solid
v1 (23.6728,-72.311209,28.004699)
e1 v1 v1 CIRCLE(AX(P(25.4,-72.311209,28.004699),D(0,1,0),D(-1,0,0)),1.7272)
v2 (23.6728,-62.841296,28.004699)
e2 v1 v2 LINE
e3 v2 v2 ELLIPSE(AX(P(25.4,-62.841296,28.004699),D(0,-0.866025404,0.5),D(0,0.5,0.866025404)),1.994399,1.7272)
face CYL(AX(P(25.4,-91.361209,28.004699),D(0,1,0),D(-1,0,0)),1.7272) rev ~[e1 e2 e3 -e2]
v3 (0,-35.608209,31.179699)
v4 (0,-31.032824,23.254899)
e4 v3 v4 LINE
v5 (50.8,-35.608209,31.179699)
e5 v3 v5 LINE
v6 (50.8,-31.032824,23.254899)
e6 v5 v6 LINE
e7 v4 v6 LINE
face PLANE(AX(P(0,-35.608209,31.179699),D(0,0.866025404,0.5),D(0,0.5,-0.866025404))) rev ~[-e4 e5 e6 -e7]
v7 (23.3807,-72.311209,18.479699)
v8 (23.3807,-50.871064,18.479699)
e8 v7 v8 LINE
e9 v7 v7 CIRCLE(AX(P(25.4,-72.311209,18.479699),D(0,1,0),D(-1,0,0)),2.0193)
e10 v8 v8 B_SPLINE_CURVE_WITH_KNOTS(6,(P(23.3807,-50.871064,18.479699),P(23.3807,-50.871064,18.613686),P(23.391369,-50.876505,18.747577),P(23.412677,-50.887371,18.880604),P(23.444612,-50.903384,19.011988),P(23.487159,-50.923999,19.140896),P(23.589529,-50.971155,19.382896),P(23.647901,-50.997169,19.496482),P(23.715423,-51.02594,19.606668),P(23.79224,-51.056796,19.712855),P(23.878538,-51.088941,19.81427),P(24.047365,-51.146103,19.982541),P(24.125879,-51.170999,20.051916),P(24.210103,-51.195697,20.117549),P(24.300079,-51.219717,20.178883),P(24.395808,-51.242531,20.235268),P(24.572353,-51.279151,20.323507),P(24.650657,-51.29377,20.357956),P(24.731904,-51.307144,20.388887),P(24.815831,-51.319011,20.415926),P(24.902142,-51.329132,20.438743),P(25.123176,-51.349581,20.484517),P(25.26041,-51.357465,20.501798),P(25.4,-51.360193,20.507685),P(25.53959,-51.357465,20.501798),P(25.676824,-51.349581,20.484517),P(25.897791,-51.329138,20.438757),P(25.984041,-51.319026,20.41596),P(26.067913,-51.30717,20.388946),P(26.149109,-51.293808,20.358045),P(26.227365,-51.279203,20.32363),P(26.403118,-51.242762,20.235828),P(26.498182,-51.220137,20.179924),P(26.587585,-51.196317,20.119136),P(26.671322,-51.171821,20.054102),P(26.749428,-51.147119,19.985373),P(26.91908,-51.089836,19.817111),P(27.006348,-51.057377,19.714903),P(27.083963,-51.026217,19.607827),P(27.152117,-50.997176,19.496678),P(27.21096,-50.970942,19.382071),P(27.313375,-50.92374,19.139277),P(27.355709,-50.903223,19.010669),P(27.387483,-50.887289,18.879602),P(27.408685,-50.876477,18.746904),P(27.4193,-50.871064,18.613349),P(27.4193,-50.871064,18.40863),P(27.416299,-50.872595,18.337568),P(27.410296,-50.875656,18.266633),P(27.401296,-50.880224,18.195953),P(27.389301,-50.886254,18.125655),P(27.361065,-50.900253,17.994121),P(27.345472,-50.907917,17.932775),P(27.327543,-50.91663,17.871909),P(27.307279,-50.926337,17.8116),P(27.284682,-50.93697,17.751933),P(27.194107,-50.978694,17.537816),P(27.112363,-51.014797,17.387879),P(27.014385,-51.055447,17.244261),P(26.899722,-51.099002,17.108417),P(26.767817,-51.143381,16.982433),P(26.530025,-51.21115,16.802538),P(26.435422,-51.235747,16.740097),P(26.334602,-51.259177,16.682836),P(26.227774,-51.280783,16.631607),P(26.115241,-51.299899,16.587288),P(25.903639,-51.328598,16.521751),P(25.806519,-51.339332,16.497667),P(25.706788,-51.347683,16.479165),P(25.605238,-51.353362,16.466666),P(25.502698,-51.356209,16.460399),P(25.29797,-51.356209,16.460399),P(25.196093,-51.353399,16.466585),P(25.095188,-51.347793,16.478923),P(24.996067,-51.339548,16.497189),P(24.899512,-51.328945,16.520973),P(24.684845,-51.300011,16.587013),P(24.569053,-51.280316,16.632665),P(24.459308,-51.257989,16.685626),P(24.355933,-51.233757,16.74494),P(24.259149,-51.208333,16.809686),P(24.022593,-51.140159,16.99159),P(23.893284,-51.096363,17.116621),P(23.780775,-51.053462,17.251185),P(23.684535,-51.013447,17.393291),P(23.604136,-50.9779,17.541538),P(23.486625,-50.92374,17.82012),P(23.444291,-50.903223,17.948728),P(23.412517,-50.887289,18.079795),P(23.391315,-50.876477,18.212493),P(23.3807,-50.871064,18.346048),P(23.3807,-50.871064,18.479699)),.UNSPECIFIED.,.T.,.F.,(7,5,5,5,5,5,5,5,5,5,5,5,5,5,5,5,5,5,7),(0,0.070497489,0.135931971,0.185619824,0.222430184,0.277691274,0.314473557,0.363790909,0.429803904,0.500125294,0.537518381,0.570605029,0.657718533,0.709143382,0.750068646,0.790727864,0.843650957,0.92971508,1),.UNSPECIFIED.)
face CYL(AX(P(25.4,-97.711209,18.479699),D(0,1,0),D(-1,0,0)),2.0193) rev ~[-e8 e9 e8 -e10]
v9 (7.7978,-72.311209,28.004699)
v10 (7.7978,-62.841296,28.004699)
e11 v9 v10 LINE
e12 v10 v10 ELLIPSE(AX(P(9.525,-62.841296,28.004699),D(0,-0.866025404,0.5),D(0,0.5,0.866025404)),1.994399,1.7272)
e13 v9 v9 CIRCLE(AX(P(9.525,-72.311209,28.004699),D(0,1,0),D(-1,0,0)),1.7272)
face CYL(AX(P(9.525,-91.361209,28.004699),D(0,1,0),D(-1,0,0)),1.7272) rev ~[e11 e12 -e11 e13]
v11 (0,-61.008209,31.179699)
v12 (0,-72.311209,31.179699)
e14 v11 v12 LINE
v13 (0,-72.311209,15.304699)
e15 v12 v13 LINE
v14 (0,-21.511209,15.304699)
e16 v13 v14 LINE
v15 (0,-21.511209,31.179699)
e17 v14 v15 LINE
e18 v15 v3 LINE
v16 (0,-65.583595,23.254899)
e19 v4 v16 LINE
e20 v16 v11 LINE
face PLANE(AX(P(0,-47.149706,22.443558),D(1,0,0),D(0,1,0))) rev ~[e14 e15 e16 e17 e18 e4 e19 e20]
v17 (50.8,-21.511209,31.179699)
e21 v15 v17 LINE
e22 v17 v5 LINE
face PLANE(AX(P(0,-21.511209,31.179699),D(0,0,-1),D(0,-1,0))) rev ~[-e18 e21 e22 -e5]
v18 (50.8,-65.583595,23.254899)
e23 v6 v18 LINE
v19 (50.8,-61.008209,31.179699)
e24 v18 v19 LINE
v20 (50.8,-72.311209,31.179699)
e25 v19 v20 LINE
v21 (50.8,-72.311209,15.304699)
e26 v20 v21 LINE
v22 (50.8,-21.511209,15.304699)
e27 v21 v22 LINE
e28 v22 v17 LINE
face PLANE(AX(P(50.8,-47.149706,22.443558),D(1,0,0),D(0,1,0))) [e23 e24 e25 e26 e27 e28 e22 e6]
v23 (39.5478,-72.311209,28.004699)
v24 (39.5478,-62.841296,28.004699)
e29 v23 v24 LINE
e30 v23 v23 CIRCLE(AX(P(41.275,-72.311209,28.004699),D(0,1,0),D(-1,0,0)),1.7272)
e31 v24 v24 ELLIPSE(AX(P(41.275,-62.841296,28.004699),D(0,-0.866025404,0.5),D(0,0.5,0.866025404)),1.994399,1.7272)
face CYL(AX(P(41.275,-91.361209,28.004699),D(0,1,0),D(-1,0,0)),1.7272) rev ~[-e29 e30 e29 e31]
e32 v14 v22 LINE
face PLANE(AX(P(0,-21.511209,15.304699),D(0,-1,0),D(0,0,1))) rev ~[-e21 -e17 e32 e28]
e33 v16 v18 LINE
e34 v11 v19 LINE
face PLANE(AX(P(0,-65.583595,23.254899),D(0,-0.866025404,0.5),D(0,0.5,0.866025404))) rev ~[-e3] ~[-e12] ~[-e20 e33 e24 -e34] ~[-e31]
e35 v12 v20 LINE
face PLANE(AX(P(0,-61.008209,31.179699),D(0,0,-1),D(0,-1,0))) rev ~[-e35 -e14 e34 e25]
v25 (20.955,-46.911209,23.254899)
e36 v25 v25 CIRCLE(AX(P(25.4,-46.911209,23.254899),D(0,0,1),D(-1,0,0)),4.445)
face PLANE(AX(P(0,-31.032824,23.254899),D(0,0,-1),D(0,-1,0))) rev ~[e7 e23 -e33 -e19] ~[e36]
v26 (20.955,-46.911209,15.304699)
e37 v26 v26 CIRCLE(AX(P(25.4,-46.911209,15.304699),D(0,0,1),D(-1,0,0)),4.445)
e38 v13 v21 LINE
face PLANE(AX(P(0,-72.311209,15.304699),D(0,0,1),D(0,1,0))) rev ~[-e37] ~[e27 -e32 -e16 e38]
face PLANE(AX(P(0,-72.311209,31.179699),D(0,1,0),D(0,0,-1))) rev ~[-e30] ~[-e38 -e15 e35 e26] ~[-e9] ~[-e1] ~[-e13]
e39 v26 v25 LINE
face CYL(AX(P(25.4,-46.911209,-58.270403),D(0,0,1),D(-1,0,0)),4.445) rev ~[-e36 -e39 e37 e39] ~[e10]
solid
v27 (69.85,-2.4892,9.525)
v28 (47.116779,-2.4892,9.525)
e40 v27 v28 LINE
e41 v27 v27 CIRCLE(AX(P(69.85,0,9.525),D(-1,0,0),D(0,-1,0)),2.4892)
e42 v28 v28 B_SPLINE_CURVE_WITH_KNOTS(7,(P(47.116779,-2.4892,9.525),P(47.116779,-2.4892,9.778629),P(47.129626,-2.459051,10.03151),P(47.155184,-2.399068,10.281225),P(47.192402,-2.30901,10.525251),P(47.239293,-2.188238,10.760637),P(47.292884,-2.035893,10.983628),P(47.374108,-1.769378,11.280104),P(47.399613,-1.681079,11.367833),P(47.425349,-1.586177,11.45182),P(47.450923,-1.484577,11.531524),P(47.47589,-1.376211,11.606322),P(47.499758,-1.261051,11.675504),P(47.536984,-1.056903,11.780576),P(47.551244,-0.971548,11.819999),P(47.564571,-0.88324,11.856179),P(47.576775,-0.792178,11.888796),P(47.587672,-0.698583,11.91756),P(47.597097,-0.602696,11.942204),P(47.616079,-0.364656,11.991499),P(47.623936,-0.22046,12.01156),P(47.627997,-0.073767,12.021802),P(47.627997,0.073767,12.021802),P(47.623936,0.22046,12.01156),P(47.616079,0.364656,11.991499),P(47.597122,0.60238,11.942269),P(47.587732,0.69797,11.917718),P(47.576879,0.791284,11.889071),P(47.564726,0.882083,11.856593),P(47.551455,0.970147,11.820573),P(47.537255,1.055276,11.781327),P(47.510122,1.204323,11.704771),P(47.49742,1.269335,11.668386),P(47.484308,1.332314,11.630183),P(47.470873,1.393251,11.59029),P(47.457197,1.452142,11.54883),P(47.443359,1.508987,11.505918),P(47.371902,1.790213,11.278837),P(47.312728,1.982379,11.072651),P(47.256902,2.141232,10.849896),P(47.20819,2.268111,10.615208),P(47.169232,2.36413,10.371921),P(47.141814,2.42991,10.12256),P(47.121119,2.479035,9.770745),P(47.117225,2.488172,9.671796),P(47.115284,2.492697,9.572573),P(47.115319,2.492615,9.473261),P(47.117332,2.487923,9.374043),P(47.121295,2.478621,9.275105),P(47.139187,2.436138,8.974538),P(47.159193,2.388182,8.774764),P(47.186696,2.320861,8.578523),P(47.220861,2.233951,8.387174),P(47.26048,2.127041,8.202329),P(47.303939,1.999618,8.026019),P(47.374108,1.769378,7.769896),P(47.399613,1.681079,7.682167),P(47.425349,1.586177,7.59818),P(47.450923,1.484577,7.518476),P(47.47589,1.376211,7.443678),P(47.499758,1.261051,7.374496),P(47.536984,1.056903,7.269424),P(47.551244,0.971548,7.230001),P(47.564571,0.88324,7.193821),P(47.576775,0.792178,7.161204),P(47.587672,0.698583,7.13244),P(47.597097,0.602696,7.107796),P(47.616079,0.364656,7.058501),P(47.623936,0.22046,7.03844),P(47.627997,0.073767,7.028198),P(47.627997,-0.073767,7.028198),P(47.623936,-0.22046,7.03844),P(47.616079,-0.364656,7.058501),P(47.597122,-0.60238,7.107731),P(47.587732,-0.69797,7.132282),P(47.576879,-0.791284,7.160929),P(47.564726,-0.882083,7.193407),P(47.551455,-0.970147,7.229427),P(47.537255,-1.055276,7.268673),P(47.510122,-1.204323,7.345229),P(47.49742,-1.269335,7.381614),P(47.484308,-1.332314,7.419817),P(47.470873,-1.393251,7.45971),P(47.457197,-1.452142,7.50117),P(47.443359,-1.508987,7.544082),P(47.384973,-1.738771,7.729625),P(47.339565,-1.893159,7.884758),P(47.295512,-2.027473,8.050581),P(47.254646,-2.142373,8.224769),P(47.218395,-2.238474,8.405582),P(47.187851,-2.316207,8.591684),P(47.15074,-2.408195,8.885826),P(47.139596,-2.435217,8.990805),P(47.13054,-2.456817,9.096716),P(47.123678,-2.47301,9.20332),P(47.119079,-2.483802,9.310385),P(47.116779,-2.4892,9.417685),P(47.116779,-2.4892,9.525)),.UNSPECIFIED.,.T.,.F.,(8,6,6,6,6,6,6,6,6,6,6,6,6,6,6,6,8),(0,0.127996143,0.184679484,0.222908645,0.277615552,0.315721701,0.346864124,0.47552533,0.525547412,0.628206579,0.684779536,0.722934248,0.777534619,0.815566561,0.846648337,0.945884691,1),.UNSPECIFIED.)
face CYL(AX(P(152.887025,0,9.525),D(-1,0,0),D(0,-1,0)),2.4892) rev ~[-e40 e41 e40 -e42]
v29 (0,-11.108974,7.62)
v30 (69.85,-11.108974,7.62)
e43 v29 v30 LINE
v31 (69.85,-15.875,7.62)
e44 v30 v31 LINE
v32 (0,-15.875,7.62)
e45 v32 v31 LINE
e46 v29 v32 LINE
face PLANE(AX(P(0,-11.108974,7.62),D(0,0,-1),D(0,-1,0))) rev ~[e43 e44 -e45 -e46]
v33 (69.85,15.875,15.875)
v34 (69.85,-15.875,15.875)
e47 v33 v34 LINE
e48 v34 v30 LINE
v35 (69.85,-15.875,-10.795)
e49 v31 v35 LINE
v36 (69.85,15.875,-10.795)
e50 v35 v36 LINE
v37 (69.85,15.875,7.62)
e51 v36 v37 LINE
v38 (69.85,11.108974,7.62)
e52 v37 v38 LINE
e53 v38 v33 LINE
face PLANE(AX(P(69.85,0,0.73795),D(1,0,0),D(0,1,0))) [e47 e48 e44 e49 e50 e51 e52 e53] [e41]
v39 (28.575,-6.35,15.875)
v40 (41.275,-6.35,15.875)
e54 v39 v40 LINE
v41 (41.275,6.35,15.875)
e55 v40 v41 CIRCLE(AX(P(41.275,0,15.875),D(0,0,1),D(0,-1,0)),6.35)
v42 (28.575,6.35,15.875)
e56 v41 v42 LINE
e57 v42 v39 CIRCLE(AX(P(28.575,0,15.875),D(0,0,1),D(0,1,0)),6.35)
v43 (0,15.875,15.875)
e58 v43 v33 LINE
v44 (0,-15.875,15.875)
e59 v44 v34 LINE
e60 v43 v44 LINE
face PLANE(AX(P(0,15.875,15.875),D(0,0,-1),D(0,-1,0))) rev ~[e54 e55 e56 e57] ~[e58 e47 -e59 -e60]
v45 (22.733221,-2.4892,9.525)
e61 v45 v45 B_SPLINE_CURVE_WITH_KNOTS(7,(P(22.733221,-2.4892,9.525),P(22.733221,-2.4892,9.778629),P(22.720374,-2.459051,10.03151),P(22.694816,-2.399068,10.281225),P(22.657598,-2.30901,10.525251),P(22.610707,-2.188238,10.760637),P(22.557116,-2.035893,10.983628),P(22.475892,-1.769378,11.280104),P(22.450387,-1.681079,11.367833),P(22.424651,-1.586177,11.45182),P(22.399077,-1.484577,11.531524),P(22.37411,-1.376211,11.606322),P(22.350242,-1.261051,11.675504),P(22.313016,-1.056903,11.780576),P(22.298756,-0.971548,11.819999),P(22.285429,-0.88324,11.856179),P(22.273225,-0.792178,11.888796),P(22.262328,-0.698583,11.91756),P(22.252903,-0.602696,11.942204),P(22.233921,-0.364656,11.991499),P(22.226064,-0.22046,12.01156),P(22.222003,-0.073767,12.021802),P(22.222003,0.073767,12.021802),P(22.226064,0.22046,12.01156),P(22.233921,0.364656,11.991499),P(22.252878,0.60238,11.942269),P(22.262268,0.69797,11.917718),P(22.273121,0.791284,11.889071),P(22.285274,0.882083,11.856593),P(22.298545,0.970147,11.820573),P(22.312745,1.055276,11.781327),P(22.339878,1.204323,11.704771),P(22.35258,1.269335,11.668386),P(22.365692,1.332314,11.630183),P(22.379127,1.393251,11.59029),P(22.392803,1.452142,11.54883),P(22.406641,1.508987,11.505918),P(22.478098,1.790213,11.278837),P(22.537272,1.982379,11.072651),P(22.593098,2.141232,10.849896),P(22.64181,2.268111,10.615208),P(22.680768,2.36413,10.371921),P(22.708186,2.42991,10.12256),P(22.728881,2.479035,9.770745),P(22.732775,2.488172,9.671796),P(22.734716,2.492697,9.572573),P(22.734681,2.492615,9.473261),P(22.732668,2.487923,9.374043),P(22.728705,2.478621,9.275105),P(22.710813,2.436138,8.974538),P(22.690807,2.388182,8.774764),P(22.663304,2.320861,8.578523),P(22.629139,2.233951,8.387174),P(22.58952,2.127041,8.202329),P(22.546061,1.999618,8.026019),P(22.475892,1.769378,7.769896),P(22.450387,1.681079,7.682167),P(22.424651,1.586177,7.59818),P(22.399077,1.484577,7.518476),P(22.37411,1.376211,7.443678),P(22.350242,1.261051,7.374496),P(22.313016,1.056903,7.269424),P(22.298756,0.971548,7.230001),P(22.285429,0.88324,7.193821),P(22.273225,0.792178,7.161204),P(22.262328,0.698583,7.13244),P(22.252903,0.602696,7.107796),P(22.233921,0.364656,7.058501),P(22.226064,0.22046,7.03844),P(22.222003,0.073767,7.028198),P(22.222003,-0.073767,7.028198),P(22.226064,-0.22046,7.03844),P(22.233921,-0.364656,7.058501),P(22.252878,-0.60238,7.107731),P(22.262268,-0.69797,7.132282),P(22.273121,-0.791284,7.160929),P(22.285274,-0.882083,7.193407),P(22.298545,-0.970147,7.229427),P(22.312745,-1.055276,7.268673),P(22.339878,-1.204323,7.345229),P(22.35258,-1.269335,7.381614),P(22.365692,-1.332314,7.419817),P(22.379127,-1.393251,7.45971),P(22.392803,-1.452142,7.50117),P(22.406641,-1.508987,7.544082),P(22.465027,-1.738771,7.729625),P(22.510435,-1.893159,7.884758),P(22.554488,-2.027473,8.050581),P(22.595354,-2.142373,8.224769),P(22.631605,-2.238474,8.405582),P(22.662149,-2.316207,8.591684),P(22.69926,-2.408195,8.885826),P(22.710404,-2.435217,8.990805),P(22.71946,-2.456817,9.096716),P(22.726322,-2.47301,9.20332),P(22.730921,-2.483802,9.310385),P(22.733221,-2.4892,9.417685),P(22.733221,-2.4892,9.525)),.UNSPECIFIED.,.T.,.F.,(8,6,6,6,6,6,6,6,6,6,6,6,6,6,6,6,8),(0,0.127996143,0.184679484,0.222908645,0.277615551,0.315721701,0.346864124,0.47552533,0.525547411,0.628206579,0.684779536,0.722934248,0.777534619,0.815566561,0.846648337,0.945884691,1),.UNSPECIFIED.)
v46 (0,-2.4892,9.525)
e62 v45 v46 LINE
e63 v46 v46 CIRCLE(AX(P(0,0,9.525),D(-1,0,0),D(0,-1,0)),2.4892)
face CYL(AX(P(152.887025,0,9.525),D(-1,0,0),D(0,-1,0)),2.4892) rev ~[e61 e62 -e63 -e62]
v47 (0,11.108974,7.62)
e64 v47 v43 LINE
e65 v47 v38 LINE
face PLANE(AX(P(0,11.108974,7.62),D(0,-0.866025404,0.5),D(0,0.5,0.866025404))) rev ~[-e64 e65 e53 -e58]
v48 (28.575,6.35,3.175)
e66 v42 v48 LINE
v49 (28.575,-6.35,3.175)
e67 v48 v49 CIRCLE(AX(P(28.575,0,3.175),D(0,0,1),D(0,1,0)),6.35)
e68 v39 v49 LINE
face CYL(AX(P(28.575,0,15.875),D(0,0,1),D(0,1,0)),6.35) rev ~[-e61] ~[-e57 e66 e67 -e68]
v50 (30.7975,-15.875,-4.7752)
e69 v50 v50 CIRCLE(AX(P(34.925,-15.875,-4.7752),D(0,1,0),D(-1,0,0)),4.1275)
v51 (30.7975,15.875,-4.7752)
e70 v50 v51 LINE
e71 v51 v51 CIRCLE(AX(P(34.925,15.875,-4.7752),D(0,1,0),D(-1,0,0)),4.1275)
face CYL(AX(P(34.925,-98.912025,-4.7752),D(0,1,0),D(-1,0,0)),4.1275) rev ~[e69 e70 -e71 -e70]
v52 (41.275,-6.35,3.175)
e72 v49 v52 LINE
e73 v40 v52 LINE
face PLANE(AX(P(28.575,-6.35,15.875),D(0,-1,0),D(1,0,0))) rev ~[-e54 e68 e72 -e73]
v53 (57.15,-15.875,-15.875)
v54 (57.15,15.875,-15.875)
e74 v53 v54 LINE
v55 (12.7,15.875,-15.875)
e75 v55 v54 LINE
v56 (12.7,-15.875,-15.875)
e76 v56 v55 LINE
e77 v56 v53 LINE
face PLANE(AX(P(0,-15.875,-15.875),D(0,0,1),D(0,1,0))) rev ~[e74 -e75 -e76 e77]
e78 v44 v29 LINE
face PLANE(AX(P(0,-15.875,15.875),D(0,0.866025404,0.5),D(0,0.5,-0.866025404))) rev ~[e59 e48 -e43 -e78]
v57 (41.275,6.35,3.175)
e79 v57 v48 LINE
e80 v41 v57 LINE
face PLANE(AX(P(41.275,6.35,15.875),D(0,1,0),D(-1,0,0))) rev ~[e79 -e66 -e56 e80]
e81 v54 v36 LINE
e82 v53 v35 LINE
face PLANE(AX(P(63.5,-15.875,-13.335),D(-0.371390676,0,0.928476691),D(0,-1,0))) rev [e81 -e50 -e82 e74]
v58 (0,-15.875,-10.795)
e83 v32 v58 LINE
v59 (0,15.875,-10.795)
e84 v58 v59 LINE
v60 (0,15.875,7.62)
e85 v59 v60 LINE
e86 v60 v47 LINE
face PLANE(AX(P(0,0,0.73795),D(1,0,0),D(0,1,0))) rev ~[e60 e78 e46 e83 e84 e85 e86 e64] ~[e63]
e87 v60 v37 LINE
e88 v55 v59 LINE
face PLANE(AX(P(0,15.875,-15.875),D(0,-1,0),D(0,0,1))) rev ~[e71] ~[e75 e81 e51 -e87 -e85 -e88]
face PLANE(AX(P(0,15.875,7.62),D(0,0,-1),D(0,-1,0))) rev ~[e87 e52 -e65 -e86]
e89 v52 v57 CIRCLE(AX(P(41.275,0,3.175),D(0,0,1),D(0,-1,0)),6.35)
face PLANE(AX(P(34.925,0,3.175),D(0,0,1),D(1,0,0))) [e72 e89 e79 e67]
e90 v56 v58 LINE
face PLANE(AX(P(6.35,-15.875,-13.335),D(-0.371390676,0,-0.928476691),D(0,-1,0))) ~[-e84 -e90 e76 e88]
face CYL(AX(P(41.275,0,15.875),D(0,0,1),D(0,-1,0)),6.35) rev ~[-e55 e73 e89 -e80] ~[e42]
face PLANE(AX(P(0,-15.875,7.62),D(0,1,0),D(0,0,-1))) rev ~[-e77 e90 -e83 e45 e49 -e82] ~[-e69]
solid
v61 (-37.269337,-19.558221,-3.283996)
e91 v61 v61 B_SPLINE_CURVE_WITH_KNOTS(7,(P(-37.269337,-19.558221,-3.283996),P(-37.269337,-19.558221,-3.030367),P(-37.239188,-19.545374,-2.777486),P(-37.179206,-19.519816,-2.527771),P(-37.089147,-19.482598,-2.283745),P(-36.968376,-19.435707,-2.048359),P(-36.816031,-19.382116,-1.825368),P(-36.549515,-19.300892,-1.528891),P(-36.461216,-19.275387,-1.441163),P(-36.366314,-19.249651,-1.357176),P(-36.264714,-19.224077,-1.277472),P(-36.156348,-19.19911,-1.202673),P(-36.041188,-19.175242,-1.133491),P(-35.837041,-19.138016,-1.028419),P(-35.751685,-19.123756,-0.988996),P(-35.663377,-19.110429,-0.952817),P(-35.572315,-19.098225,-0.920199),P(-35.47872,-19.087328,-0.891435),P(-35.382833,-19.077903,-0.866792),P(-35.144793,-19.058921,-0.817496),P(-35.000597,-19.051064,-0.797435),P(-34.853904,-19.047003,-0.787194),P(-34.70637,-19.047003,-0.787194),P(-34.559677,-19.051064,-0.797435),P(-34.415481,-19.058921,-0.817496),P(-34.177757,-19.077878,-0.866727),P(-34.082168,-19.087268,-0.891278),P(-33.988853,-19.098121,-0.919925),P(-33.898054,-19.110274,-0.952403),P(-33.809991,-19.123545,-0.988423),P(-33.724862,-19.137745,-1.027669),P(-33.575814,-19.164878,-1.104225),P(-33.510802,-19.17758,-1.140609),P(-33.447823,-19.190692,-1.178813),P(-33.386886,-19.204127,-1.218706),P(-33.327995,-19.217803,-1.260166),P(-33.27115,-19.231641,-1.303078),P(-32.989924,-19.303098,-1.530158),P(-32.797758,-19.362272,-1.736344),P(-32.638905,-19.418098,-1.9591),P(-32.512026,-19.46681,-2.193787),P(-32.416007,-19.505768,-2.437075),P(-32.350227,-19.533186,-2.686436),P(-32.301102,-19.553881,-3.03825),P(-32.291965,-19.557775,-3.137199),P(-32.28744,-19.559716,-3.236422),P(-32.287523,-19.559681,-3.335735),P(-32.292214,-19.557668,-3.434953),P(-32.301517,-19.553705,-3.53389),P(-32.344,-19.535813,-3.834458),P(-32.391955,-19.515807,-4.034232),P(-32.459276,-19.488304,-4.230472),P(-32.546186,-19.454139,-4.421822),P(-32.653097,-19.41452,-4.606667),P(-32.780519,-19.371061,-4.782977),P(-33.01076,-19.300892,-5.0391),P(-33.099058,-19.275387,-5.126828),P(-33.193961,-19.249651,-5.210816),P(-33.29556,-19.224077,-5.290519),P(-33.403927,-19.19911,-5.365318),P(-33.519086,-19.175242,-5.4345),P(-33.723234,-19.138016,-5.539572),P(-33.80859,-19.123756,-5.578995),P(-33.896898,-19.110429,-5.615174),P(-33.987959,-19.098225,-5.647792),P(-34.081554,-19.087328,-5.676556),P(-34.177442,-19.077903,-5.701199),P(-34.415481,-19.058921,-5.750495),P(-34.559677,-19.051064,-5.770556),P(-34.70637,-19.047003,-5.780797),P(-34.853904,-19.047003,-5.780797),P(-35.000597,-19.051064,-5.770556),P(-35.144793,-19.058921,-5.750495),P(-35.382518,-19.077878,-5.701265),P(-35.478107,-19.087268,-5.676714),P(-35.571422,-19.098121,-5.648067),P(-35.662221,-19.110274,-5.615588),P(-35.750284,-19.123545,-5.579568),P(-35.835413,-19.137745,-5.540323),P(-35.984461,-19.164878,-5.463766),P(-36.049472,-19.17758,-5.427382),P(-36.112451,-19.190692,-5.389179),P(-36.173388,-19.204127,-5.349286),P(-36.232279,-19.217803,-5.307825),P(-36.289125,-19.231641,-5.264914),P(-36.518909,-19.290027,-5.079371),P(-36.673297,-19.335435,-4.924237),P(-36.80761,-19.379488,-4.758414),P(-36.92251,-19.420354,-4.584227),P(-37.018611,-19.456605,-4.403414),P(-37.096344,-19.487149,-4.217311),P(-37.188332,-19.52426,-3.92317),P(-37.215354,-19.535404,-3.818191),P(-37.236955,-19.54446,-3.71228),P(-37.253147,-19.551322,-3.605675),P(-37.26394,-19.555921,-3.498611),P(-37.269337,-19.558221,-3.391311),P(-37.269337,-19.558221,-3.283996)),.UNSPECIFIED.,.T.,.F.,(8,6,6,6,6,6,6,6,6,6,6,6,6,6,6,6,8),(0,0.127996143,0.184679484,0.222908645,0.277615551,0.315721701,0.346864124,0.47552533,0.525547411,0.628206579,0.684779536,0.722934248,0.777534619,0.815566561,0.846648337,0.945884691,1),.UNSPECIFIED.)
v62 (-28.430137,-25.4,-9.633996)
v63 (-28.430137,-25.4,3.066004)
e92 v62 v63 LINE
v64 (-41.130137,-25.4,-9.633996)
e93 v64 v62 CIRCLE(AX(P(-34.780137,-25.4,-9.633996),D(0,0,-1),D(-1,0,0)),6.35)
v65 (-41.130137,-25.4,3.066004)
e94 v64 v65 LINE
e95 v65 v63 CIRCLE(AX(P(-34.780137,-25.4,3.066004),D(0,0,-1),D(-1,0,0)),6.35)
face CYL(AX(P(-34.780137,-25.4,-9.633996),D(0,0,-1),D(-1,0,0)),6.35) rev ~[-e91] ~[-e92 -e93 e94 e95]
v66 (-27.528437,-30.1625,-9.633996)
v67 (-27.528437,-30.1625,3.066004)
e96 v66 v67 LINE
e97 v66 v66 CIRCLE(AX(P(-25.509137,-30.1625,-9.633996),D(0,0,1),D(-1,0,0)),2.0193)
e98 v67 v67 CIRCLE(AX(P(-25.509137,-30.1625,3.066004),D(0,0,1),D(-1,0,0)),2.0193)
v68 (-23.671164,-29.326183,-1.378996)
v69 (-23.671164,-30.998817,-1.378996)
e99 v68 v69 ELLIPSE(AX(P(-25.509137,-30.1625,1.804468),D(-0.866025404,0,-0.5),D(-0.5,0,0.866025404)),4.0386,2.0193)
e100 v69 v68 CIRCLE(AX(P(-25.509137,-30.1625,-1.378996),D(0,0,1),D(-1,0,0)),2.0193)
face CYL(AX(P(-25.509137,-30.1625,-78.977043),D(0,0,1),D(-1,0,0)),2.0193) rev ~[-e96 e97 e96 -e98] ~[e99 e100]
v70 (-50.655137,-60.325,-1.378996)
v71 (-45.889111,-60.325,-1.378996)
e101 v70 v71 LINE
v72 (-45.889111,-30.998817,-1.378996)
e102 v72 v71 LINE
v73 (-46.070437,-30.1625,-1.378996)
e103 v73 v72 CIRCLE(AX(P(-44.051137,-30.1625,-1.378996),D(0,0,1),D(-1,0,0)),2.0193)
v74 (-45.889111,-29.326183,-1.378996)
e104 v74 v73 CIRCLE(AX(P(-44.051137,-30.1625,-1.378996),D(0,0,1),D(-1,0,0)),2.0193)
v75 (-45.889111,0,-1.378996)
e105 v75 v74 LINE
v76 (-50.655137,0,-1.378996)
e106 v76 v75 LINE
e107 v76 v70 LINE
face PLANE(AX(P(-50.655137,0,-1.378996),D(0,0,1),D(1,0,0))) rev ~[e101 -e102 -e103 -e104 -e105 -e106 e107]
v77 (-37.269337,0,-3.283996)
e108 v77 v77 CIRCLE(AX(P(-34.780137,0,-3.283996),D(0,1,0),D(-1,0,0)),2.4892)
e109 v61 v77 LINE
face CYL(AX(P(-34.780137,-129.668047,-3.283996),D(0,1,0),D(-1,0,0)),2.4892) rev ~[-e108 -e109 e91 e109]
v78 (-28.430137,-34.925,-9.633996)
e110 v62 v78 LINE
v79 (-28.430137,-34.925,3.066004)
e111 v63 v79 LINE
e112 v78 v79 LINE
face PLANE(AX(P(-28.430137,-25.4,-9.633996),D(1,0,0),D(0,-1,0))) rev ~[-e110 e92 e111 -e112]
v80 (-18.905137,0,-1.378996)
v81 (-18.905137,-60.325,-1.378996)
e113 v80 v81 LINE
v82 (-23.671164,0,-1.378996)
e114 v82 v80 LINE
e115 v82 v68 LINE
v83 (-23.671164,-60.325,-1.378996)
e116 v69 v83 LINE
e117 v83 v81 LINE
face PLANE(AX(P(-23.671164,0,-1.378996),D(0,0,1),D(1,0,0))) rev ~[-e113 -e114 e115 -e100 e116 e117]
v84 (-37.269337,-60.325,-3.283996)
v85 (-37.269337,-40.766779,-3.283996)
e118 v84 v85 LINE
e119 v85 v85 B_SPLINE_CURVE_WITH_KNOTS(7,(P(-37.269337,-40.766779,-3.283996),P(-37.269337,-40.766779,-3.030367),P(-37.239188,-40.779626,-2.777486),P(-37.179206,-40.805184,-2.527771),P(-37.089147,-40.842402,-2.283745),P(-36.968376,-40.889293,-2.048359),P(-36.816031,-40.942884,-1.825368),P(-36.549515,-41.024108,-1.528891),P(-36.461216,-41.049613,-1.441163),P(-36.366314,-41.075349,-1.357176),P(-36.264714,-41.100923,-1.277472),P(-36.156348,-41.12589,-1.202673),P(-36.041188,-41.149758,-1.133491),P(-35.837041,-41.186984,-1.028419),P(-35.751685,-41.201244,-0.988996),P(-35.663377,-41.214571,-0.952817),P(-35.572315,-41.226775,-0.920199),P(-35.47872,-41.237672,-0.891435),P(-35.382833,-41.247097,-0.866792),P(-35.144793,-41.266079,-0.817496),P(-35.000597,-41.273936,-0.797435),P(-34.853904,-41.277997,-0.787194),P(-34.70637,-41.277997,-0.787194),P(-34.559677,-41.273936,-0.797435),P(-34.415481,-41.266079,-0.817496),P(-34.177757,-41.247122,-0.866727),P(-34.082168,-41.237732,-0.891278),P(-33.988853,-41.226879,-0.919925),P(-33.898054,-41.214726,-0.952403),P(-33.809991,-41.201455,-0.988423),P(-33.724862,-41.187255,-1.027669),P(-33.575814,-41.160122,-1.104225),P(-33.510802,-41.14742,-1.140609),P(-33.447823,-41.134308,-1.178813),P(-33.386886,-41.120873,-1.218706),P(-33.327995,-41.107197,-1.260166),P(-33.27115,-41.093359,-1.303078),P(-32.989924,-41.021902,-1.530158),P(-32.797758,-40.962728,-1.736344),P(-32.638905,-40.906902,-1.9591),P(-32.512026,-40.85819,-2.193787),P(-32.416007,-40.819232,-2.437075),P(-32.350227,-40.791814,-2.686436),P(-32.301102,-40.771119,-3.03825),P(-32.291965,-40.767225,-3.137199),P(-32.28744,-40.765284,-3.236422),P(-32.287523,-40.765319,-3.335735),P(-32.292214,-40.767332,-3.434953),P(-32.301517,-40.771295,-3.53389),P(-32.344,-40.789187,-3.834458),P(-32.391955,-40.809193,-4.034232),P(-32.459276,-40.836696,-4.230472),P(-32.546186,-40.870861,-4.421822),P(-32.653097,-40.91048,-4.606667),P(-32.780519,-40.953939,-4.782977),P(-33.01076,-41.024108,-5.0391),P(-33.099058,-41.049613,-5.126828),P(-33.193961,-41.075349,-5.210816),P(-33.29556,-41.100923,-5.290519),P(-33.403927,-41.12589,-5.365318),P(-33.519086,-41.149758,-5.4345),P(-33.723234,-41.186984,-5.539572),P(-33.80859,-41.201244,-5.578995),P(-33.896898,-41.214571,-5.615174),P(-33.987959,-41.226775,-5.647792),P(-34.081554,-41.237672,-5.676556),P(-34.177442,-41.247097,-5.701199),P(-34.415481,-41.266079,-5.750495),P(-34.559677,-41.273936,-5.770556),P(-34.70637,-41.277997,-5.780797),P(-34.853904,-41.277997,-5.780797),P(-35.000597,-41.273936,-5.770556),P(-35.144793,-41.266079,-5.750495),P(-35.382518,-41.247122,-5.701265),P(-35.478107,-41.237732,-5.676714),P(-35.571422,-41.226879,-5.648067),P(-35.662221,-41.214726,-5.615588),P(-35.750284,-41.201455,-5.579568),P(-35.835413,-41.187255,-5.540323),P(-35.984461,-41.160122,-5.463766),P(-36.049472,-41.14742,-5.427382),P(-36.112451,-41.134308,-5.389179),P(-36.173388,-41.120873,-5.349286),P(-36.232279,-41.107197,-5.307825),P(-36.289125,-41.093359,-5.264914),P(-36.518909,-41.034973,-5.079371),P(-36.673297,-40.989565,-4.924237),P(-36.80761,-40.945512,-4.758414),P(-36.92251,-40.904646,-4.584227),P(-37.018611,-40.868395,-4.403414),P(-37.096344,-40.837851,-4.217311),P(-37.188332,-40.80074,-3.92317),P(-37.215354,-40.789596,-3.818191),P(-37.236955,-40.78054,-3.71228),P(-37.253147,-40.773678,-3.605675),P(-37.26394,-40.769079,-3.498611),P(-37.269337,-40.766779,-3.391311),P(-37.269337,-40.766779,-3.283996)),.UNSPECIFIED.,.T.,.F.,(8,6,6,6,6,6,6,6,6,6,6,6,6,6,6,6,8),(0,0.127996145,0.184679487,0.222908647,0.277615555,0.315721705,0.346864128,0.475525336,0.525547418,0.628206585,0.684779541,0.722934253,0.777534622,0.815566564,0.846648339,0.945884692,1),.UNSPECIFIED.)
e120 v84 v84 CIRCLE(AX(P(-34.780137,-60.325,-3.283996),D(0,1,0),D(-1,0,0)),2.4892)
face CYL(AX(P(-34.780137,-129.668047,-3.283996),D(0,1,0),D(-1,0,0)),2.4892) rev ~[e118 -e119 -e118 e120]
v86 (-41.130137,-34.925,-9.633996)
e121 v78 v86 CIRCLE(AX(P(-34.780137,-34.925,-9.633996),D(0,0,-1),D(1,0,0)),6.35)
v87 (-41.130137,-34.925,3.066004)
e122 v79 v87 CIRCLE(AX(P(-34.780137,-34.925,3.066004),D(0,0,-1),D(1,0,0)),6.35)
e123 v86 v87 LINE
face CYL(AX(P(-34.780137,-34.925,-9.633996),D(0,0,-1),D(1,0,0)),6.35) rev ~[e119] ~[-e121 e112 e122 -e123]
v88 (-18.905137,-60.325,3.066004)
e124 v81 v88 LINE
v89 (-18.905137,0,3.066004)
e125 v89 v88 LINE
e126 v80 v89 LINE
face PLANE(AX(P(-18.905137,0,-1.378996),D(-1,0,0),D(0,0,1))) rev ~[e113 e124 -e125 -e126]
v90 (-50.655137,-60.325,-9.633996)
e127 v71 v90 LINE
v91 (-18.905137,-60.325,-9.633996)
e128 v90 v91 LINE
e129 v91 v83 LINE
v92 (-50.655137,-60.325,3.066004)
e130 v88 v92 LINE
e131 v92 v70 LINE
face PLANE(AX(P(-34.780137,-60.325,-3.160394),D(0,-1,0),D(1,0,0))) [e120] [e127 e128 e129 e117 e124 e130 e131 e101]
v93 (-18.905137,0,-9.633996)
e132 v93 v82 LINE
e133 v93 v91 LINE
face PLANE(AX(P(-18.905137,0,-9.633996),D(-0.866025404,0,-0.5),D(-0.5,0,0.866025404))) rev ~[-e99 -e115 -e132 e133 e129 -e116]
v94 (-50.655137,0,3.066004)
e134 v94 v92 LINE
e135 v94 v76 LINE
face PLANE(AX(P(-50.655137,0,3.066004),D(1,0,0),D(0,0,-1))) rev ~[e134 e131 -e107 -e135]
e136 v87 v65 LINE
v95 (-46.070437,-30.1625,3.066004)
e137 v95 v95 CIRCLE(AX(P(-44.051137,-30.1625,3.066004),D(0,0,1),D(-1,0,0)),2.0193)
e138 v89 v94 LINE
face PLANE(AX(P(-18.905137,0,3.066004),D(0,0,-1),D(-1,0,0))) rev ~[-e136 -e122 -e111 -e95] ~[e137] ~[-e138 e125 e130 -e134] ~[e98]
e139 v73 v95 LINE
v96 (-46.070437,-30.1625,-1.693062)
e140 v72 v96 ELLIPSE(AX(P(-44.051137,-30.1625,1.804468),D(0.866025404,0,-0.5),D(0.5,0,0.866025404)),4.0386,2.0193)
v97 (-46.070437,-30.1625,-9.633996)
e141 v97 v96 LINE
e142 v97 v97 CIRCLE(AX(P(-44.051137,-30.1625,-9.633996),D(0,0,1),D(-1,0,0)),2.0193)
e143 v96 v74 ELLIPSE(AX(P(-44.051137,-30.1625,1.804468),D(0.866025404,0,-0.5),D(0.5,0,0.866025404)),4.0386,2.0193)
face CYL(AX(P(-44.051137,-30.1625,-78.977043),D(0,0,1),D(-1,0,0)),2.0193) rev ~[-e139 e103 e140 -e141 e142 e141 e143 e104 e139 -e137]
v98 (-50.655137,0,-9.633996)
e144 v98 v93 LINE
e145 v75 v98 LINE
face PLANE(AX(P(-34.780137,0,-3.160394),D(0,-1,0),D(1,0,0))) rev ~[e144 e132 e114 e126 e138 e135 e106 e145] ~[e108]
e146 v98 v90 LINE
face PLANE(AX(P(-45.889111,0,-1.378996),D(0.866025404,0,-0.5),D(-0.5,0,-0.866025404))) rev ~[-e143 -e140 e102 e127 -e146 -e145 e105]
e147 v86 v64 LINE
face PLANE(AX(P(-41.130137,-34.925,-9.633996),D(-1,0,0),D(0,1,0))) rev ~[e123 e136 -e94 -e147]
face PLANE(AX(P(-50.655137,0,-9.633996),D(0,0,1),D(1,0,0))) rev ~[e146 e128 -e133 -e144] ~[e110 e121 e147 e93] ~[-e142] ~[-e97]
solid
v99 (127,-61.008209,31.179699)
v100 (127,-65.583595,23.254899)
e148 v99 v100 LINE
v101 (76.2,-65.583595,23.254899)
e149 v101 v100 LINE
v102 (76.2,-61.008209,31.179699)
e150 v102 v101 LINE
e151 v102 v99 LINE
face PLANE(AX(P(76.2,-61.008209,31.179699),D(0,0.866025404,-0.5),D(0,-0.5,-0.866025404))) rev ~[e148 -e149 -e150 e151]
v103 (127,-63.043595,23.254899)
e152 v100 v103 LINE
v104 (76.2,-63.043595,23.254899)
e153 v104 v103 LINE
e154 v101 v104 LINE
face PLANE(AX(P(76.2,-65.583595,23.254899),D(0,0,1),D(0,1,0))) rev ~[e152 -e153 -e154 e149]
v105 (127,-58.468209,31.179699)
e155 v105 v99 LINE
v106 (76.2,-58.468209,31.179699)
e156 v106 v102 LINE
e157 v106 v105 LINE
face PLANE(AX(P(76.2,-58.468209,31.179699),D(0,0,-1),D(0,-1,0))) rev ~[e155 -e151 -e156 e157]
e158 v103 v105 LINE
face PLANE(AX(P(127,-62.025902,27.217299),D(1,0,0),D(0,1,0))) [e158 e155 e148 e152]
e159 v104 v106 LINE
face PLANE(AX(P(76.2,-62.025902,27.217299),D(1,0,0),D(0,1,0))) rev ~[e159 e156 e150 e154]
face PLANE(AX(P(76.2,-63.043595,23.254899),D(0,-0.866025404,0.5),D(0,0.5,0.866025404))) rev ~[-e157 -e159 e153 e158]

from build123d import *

# Parameters (mm, degrees)
F1_DEPTH  = 69.85
F3_D      = 4.9784
F5_D      = 8.255
F7_DEPTH  = 12.7
F9_DEPTH  = 60.325
F11_D     = 4.9784
F13_DEPTH = 25.5099957942
F15_D     = 4.0386
F17_DEPTH = 50.8
F19_D     = 8.89
F21_D     = 4.0386
F21_DEPTH = 25.4
F21_TIP   = 1.213317848
F22_D     = 3.4544
F22_DEPTH = 19.05
F22_TIP   = 1.0378064612
F25_DEPTH = 50.8
F26_SIZE2 = 5.08
F26_SIZE  = 12.7


with BuildPart() as f1:
    # F0 (on Right) → F1 (new body)
    with BuildSketch(Plane.YZ):
        Polygon((-15.875, -15.875), (15.875, -15.875), (15.875, 7.62), (11.1089735278, 7.62), (15.875, 15.875), (-15.875, 15.875), (-11.1089735278, 7.62), (-15.875, 7.62), align=None)
    extrude(amount=F1_DEPTH)

    # F3 (through all)
    with Locations(Plane.YZ.offset(69.85)):
        with Locations((0, 9.525)):
            Hole(F3_D / 2)

    # F5 (through all)
    with Locations(Plane.XZ.offset(15.875)):
        with Locations((34.925, -4.7752)):
            Hole(F5_D / 2)

    # F6 (on face) → F7 (cut)
    with BuildSketch(Plane.XY.offset(15.875)):
        with BuildLine():
            ThreePointArc((28.575, 6.35), (22.225, 0), (28.575, -6.35))
            Line((28.575, -6.35), (41.275, -6.35))
            ThreePointArc((41.275, -6.35), (47.625, 0), (41.275, 6.35))
            Line((41.275, 6.35), (28.575, 6.35))
        make_face()
    extrude(amount=-F7_DEPTH, mode=Mode.SUBTRACT)

    # F26
    f26_edges = [f1.edges().sort_by_distance(p)[0] for p in [
        (69.85, 0, -15.875),
        (0, 0, -15.875),
    ]]
    f26_side = f1.faces().sort_by_distance((34.925, 0, -15.875))[0]
    chamfer(f26_edges, length=F26_SIZE, length2=F26_SIZE2, reference=f26_side)


with BuildPart() as f9:
    # F8 (on Front) → F9 (new body)
    with BuildSketch(Plane.XZ):
        Polygon((-18.9051372717, 3.0660043058), (-50.6551372717, 3.0660043058), (-50.6551372717, -1.3789956942), (-45.8891107996, -1.3789956942), (-50.6551372717, -9.6339956942), (-18.9051372717, -9.6339956942), (-23.6711637439, -1.3789956942), (-18.9051372717, -1.3789956942), align=None)
    extrude(amount=F9_DEPTH)

    # F11 (through all)
    with Locations(Plane.XZ.offset(60.325)):
        with Locations((-34.7801372717, -3.2839956942)):
            Hole(F11_D / 2)

    # F12 (on face) → F13 (cut, through all)
    with BuildSketch(Plane(origin=(0, 0, -9.6339956942), x_dir=(1, 0, 0), z_dir=(0, 0, -1))):
        with BuildLine():
            ThreePointArc((-28.4301372717, 34.925), (-34.7801372717, 41.275), (-41.1301372717, 34.925))
            Line((-41.1301372717, 34.925), (-41.1301372717, 25.4))
            ThreePointArc((-41.1301372717, 25.4), (-34.7801372717, 19.05), (-28.4301372717, 25.4))
            Line((-28.4301372717, 25.4), (-28.4301372717, 34.925))
        make_face()
    extrude(amount=-F13_DEPTH, mode=Mode.SUBTRACT)

    # F15 (through all)
    with Locations(Plane(origin=(0, 0, -9.6339956942), x_dir=(1, 0, 0), z_dir=(0, 0, -1))):
        with Locations((-25.5091372717, 30.1625), (-44.0511372717, 30.1625)):
            Hole(F15_D / 2)


with BuildPart() as f17:
    # F16 (on Right) → F17 (new body)
    with BuildSketch(Plane.YZ):
        Polygon((-61.008209191, 31.1796985877), (-72.311209191, 31.1796985877), (-72.311209191, 15.3046985877), (-21.511209191, 15.3046985877), (-21.511209191, 31.1796985877), (-35.608209191, 31.1796985877), (-31.0328237777, 23.2548985877), (-65.5835946043, 23.2548985877), align=None)
    extrude(amount=F17_DEPTH)

    # F19 (through all)
    with Locations(Plane(origin=(0, 0, 15.3046985877), x_dir=(1, 0, 0), z_dir=(0, 0, -1))):
        with Locations((25.4, 46.911209191)):
            Hole(F19_D / 2)

    # F21
    with Locations(Plane.XZ.offset(72.311209191)):
        with Locations((25.4, 18.4796985877)):
            Hole(F21_D / 2, depth=F21_DEPTH)
            with Locations((0, 0, -(F21_DEPTH + F21_TIP / 2))):  # 118° drill point
                Cone(0, F21_D / 2, F21_TIP, mode=Mode.SUBTRACT)

    # F22
    with Locations(Plane.XZ.offset(72.311209191)):
        with Locations((9.525, 28.0046985877), (25.4, 28.0046985877), (41.275, 28.0046985877)):
            Hole(F22_D / 2, depth=F22_DEPTH)
            with Locations((0, 0, -(F22_DEPTH + F22_TIP / 2))):  # 118° drill point
                Cone(0, F22_D / 2, F22_TIP, mode=Mode.SUBTRACT)


with BuildPart() as f25:
    # F24 (on offset) → F25 (new body)
    with BuildSketch(Plane.YZ.offset(76.2)):
        Polygon((-58.468209191, 31.1796985877), (-61.008209191, 31.1796985877), (-65.5835946043, 23.2548985877), (-63.0435946043, 23.2548985877), align=None)
    extrude(amount=F25_DEPTH)


solid = Compound([f1.part, f9.part, f17.part, f25.part])
